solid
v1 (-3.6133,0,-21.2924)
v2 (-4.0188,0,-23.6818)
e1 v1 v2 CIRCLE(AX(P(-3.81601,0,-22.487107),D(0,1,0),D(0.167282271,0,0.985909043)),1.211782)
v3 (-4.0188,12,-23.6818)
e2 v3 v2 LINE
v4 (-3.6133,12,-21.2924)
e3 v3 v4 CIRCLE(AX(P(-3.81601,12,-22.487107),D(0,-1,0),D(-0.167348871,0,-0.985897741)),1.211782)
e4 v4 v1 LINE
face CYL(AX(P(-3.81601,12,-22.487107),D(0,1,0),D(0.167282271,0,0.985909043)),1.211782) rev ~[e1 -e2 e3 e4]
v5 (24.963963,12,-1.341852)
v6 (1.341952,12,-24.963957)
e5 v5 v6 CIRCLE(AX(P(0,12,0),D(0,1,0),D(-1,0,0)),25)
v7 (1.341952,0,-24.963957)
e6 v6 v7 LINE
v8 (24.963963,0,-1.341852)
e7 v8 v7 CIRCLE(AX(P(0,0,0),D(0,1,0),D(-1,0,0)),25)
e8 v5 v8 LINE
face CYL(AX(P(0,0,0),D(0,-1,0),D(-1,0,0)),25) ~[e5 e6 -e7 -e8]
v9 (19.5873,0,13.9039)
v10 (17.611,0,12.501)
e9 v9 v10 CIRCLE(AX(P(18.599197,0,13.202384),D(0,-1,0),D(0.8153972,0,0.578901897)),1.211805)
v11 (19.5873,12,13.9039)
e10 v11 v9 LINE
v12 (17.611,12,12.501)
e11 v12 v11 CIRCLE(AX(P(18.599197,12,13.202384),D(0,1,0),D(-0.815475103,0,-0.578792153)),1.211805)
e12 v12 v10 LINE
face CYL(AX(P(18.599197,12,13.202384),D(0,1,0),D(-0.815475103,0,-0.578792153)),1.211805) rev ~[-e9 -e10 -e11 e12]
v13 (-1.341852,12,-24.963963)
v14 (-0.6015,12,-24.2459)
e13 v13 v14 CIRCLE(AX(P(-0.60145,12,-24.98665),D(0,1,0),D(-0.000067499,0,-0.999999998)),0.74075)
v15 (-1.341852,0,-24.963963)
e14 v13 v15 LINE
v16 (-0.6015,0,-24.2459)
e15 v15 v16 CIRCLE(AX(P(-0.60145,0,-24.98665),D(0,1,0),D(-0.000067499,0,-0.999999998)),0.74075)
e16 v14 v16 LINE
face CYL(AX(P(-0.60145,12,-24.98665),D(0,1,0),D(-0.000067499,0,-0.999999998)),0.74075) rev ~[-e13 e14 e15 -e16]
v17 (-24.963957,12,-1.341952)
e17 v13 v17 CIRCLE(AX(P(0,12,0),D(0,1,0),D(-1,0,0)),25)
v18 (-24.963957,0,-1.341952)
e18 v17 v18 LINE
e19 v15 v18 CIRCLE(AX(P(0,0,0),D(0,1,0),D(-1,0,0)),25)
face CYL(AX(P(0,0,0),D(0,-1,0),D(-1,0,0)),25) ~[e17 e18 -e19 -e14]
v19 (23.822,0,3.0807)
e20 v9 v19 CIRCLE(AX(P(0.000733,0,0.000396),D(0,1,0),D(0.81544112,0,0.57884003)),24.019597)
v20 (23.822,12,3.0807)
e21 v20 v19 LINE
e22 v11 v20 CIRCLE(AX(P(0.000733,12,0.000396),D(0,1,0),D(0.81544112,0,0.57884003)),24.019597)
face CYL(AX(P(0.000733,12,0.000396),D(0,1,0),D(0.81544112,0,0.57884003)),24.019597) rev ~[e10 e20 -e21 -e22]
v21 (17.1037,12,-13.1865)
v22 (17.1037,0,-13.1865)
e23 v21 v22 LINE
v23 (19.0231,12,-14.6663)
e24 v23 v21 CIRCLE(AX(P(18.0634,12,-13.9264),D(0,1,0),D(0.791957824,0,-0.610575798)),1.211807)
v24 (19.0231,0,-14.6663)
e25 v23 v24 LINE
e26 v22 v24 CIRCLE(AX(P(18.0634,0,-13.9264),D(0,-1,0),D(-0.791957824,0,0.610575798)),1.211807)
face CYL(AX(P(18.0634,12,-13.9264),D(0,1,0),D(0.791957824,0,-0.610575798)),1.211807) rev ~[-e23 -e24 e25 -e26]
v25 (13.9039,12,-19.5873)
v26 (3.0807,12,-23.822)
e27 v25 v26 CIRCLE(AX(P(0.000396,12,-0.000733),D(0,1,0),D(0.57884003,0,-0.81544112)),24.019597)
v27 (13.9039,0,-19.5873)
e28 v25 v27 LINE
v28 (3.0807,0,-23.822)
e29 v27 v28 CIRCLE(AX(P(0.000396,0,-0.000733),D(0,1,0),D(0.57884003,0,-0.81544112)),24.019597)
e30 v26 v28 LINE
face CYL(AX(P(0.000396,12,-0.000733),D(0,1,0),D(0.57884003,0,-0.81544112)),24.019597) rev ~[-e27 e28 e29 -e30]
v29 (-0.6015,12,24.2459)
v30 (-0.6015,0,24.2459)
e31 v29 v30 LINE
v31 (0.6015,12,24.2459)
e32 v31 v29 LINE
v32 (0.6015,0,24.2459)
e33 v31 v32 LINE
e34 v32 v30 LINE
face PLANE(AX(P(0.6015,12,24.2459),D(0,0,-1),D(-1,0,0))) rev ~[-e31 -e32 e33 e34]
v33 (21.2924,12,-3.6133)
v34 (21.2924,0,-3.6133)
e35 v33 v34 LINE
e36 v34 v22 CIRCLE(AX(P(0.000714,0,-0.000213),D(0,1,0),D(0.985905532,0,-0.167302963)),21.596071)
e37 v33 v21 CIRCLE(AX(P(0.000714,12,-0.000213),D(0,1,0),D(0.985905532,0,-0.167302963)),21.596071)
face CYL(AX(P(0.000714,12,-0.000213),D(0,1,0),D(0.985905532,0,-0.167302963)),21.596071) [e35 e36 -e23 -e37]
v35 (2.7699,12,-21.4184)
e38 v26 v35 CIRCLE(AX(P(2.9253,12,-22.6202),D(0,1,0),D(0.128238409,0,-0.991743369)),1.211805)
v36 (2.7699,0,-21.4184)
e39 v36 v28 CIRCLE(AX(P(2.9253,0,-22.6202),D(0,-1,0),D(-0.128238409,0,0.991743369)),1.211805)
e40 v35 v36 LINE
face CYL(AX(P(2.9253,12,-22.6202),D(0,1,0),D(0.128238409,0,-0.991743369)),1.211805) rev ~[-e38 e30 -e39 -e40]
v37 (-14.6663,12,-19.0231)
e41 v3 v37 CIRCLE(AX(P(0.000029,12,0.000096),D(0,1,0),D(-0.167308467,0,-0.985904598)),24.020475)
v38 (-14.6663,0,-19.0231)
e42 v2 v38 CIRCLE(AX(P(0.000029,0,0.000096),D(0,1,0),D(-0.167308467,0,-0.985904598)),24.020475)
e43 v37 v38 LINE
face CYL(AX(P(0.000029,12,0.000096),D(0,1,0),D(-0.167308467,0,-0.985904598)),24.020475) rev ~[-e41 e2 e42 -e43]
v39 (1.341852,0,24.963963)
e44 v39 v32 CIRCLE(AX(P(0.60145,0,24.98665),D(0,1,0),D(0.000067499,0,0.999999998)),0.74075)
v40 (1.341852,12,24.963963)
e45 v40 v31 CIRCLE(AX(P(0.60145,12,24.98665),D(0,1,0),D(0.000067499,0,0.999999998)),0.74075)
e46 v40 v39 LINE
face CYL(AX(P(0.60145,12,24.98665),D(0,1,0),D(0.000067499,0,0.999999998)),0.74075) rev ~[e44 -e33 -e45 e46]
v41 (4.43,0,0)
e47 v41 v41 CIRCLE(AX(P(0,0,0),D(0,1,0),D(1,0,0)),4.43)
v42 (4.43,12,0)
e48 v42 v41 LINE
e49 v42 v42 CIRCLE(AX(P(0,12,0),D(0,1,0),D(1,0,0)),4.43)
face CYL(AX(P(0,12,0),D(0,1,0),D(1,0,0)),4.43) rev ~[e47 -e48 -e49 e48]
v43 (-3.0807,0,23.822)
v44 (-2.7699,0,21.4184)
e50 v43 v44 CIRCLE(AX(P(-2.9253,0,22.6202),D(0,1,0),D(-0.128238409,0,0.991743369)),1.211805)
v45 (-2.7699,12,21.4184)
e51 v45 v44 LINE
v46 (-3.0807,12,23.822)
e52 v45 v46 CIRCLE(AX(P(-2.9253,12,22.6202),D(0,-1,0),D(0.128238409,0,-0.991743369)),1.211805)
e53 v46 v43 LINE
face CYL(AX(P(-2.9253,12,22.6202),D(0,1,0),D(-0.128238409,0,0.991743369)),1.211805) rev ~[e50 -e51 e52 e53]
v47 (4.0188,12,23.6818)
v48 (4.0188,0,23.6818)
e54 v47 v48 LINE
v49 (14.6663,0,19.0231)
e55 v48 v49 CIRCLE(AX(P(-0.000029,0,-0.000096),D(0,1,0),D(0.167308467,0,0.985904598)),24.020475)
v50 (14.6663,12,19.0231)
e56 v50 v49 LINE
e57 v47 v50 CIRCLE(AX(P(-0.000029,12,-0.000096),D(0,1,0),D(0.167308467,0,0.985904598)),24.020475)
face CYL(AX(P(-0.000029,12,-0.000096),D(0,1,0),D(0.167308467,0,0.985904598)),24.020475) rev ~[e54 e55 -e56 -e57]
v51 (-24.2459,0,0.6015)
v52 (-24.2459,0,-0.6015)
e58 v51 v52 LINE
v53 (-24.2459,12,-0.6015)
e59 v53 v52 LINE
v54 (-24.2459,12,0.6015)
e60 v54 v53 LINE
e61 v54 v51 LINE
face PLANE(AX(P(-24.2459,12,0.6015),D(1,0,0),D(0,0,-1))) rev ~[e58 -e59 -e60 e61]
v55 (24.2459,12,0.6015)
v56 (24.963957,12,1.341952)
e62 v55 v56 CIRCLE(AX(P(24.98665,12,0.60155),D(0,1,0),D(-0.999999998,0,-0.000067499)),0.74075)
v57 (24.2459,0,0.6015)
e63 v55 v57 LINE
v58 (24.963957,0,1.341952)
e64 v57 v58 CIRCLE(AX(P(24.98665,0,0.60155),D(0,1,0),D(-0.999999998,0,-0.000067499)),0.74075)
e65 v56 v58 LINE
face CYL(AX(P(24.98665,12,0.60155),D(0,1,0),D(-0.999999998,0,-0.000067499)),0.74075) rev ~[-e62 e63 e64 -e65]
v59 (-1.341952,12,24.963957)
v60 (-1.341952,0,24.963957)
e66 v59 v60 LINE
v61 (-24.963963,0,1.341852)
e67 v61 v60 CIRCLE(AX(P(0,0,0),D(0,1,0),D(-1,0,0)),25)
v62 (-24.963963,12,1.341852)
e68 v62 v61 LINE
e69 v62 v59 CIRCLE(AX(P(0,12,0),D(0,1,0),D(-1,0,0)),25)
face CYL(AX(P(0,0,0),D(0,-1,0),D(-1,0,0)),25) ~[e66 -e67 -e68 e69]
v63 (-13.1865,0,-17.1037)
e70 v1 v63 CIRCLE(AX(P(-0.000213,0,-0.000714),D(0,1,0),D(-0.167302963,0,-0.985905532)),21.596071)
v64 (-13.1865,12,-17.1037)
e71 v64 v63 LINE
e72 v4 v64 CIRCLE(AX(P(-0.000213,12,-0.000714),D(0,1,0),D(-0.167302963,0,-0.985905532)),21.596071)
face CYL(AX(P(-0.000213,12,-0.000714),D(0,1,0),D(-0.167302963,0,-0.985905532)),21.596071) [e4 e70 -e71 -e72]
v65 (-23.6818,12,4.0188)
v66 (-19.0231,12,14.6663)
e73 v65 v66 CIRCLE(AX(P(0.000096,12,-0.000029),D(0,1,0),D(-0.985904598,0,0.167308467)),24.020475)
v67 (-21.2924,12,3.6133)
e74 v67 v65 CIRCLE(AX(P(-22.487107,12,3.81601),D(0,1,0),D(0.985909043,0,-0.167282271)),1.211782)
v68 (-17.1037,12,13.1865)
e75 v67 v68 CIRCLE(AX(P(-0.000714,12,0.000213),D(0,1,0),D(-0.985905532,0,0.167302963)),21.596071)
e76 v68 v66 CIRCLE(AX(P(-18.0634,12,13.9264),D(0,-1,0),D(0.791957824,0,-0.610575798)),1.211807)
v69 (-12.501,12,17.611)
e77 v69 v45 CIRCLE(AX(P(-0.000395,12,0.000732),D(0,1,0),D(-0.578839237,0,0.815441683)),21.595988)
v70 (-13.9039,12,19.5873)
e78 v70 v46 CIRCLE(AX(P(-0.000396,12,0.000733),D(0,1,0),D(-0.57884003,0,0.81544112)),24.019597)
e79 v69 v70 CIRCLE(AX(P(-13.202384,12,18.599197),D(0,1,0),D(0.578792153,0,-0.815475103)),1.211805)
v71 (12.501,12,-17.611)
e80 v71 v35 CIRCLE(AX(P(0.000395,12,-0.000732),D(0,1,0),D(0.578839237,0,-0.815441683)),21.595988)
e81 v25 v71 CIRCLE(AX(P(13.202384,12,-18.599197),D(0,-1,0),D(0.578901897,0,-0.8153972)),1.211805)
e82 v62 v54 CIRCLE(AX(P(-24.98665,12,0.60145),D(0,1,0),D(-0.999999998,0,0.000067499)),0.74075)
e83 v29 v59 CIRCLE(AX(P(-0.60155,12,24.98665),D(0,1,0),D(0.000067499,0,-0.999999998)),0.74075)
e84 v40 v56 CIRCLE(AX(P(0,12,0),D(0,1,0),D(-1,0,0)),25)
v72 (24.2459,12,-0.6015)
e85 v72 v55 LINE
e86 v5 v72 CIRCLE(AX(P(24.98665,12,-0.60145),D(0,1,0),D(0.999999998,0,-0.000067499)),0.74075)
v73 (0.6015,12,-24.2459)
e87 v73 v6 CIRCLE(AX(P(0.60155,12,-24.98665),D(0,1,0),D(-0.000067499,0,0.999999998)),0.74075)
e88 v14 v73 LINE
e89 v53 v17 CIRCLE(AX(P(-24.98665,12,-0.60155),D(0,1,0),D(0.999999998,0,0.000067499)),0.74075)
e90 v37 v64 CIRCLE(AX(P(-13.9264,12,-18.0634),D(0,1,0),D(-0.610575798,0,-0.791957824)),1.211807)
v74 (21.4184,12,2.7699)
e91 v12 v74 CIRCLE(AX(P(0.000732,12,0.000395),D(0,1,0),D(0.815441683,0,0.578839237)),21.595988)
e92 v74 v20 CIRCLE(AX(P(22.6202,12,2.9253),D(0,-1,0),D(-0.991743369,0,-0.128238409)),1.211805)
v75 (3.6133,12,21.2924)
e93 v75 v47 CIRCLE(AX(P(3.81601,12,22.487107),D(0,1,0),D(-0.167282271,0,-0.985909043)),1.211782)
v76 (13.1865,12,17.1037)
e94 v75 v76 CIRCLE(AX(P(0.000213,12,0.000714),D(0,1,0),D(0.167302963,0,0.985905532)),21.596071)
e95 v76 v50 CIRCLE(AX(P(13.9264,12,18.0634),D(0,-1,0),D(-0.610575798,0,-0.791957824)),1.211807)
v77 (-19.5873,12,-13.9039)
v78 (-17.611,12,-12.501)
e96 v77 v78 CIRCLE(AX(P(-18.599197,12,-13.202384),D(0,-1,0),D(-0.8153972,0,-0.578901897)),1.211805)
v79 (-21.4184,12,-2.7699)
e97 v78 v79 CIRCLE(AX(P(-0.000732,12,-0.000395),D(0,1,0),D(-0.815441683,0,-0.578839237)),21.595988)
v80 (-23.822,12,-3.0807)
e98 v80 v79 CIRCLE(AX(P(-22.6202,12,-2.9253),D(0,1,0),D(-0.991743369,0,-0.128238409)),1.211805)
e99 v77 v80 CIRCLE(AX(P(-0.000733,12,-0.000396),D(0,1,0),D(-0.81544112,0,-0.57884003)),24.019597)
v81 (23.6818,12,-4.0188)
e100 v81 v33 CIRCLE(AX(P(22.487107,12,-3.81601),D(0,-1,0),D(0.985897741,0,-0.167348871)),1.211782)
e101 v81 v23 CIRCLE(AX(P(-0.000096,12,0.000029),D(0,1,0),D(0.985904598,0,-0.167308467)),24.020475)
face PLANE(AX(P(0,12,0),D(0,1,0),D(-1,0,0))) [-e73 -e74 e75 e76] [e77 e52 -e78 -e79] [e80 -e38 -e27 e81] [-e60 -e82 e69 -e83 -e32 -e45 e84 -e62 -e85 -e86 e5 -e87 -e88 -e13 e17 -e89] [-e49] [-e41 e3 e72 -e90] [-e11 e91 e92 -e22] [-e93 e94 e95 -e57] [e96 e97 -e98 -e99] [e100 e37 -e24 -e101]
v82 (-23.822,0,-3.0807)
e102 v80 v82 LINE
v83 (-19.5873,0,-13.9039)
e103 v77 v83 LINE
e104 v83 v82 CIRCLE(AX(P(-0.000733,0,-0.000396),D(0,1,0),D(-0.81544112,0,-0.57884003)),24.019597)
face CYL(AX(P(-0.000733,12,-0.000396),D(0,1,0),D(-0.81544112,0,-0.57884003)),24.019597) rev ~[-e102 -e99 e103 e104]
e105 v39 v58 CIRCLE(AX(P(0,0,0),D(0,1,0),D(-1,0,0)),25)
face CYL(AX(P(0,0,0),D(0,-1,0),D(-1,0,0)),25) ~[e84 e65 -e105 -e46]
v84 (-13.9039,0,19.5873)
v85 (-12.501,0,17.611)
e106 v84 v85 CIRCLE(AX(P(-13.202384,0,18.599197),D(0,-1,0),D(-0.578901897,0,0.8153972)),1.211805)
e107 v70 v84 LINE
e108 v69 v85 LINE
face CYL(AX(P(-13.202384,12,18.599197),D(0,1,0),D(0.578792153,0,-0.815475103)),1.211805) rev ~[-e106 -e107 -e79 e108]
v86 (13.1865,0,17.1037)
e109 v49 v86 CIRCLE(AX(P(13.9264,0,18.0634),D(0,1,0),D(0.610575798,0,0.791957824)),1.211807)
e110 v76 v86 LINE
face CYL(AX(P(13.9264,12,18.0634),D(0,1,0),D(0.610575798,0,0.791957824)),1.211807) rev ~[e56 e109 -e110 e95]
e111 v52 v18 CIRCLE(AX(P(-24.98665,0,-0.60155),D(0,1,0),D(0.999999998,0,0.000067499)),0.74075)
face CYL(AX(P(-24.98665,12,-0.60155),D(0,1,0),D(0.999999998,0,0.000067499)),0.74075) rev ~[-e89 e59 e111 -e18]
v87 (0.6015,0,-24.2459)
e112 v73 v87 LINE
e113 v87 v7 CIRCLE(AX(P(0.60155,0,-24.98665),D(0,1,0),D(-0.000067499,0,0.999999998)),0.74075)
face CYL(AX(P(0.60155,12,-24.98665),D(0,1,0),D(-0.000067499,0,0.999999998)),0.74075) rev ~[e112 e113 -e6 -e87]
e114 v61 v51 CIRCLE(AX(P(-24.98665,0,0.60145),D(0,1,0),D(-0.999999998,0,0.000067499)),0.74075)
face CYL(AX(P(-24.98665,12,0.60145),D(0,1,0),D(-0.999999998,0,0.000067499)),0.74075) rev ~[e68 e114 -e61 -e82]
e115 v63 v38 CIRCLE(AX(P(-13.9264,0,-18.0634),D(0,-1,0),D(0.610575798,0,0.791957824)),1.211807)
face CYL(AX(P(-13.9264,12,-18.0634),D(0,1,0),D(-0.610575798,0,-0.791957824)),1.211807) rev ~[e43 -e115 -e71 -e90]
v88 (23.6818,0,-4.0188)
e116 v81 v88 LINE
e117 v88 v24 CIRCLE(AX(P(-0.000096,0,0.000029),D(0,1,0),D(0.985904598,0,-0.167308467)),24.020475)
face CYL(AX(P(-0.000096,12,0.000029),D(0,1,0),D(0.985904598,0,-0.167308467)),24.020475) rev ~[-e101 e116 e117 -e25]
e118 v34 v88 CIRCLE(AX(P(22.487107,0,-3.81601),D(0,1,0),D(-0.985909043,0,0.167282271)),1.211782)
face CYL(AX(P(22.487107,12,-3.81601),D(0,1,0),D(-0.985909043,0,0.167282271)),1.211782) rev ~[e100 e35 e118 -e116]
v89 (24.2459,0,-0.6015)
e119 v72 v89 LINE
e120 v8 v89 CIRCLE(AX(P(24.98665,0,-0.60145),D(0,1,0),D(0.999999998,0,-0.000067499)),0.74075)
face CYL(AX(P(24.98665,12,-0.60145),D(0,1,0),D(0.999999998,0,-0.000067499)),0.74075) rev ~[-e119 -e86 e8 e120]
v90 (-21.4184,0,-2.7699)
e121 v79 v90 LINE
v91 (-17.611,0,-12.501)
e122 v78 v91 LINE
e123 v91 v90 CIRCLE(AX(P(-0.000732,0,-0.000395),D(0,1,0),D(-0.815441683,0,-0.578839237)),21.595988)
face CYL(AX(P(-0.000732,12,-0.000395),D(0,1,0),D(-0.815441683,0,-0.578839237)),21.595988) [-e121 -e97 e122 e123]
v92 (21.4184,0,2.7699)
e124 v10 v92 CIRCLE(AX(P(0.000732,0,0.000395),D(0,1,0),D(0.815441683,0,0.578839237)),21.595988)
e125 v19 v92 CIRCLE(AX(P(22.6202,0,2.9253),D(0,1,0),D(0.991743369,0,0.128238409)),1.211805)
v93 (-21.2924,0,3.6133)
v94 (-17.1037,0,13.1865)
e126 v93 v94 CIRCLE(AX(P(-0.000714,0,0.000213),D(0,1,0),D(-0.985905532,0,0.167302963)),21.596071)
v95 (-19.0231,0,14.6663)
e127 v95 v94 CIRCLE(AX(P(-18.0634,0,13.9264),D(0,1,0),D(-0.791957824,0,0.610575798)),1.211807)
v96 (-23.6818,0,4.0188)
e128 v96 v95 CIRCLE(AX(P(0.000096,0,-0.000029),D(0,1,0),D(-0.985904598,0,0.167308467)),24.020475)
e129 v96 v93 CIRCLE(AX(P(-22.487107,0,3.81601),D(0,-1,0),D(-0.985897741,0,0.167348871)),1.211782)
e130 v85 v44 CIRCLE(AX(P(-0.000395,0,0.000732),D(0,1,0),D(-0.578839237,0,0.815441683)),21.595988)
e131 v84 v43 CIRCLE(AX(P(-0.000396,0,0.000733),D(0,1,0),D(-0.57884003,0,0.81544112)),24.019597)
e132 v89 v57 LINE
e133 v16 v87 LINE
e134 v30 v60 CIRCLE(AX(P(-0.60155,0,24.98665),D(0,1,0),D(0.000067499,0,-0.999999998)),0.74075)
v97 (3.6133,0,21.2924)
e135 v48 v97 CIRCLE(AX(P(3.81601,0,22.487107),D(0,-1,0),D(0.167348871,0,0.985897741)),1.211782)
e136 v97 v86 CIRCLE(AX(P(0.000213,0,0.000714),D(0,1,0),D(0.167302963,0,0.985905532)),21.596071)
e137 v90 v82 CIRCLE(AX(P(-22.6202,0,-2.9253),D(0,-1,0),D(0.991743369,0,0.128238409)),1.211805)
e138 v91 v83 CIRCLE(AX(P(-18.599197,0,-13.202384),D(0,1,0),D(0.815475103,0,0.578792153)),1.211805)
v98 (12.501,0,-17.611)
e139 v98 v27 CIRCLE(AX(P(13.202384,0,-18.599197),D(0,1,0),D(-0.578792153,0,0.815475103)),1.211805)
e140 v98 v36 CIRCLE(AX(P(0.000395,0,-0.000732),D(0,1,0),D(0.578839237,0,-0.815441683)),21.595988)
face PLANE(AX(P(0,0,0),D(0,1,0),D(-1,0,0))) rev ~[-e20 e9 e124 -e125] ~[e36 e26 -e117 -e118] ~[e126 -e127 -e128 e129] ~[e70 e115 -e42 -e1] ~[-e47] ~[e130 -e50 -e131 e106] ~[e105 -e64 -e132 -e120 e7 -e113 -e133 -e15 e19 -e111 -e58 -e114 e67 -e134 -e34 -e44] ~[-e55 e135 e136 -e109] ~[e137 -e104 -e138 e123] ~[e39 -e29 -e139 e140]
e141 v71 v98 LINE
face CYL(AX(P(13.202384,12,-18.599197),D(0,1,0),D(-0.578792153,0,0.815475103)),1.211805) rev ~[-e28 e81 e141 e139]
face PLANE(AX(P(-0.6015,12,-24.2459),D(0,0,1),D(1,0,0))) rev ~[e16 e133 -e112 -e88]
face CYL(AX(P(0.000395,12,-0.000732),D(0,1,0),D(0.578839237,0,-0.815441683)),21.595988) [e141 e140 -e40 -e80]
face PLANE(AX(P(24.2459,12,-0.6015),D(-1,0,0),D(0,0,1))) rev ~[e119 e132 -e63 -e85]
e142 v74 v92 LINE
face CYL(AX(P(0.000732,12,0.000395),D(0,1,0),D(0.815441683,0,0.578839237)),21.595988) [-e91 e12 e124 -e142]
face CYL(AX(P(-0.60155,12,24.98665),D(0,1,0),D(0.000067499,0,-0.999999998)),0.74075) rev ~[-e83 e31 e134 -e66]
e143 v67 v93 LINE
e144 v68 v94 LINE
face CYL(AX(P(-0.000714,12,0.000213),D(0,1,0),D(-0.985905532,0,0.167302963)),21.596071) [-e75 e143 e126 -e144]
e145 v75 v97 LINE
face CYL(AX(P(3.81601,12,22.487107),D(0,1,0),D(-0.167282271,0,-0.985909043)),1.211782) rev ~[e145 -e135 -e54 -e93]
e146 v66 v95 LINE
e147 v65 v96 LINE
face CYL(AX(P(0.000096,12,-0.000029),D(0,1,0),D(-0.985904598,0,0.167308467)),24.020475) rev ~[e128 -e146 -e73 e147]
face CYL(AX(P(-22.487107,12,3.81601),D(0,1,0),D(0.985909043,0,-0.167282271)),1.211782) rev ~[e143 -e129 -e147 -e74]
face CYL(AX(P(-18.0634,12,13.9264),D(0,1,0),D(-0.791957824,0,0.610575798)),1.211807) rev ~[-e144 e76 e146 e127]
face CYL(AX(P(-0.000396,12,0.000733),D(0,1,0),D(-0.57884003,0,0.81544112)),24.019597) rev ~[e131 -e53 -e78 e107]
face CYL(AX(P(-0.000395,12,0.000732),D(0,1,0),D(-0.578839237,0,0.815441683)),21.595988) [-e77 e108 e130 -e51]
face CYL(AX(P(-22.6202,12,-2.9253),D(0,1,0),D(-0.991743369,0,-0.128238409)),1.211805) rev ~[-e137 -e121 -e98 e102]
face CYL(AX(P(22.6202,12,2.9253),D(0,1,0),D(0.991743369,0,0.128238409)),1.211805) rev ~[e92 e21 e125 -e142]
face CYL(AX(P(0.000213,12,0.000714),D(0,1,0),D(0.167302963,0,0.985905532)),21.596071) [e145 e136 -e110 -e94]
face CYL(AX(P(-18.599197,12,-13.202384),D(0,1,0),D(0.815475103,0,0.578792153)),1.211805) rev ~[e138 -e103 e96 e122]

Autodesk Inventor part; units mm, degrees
ref_plane "YZ Plane" through (0, 0, 0) normal (1, 0, 0) x (0, 1, 0)
ref_plane "XZ Plane" through (0, 0, 0) normal (0, 1, 0) x (-1, 0, 0)
ref_plane "XY Plane" through (0, 0, 0) normal (0, 0, 1) x (1, 0, 0)
sketch "Sketch1" plane through (0, 0, 0) normal (0, 1, 0) x (-1, 0, 0)
  circle A0 centre (0, 0) radius 25
  dimension "d1" = 50
extrude "Extrusion1" add sketch "Sketch1" along normal blind 12
sketch "Sketch2" plane through (0, 12, 0) normal (0, 1, 0) x (1, 0, 0)
  circle A0 centre (0, 0) radius 1.3723
  line L0 (-24.9867, -1.3423) -> (-24.9867, 1.3423) construction
  line L1 (-24.2459, -0.6015) -> (-24.2459, 0.6015)
  line L2 (-25.7274, 0.6015) -> (-25.7274, -0.6015)
  arc A1 (-25.7274, -0.6015) -> (-24.2459, -0.6015) centre (-24.9867, -0.6015) ccw
  arc A2 (-24.2459, 0.6015) -> (-25.7274, 0.6015) centre (-24.9867, 0.6015) ccw
  line L3 (1.3423, -24.9867) -> (-1.3423, -24.9867) construction
  line L4 (0.6015, -24.2459) -> (-0.6015, -24.2459)
  line L5 (-0.6015, -25.7274) -> (0.6015, -25.7274)
  arc A3 (0.6015, -25.7274) -> (0.6015, -24.2459) centre (0.6015, -24.9867) ccw
  arc A4 (-0.6015, -24.2459) -> (-0.6015, -25.7274) centre (-0.6015, -24.9867) ccw
  line L6 (24.9867, 1.3423) -> (24.9867, -1.3423) construction
  line L7 (24.2459, 0.6015) -> (24.2459, -0.6015)
  line L8 (25.7274, -0.6015) -> (25.7274, 0.6015)
  arc A5 (25.7274, 0.6015) -> (24.2459, 0.6015) centre (24.9867, 0.6015) ccw
  arc A6 (24.2459, -0.6015) -> (25.7274, -0.6015) centre (24.9867, -0.6015) ccw
  line L9 (-1.3423, 24.9867) -> (1.3423, 24.9867) construction
  line L10 (-0.6015, 24.2459) -> (0.6015, 24.2459)
  line L11 (0.6015, 25.7274) -> (-0.6015, 25.7274)
  arc A7 (-0.6015, 25.7274) -> (-0.6015, 24.2459) centre (-0.6015, 24.9867) ccw
  arc A8 (0.6015, 24.2459) -> (0.6015, 25.7274) centre (0.6015, 24.9867) ccw
  point P0 (-24.9867, 0)
  point P1 (0, -24.9867)
  point P2 (24.9867, 0)
  point P3 (0, 24.9867)
  dimension "d11" = 360
extrude "Extrusion2" cut sketch "Sketch2" against normal blind 12 contours A1 L2 A2 L1 | A3 L5 A4 L4 | A5 L8 A6 L7 | A7 L11 A8 L10
sketch "Sketch3" plane through (0, 12, 0) normal (0, 1, 0) x (1, 0, 0)
  circle A0 centre (0, 0) radius 22.8086
  arc A1 (13.2024, 18.5991) -> (2.9253, 22.6202) centre (0, 0) ccw construction
  arc A2 (13.9039, 19.5873) -> (3.0807, 23.822) centre (0, 0) ccw
  arc A3 (12.501, 17.611) -> (2.7699, 21.4184) centre (0, 0) ccw
  arc A4 (12.501, 17.611) -> (13.9039, 19.5873) centre (13.2024, 18.5991) ccw
  arc A5 (3.0807, 23.822) -> (2.7699, 21.4184) centre (2.9253, 22.6202) ccw
  line L0 (0, 0) -> (13.2024, 18.5991) construction
  line L1 (0, 0) -> (2.9253, 22.6202) construction
  arc A6 (-4.0188, 23.6818) -> (-14.6663, 19.0231) centre (0, 0) ccw
  arc A7 (-14.6663, 19.0231) -> (-13.1865, 17.1037) centre (-13.9264, 18.0634) ccw
  arc A8 (-3.6133, 21.2924) -> (-13.1865, 17.1037) centre (0, 0) ccw
  arc A9 (-3.6133, 21.2924) -> (-4.0188, 23.6818) centre (-3.816, 22.4871) ccw
  arc A10 (-19.5873, 13.9039) -> (-23.822, 3.0807) centre (0, 0) ccw
  arc A11 (-23.822, 3.0807) -> (-21.4184, 2.7699) centre (-22.6202, 2.9253) ccw
  arc A12 (-17.611, 12.501) -> (-21.4184, 2.7699) centre (0, 0) ccw
  arc A13 (-17.611, 12.501) -> (-19.5873, 13.9039) centre (-18.5991, 13.2024) ccw
  arc A14 (-23.6818, -4.0188) -> (-19.0231, -14.6663) centre (0, 0) ccw
  arc A15 (-19.0231, -14.6663) -> (-17.1037, -13.1865) centre (-18.0634, -13.9264) ccw
  arc A16 (-21.2924, -3.6133) -> (-17.1037, -13.1865) centre (0, 0) ccw
  arc A17 (-21.2924, -3.6133) -> (-23.6818, -4.0188) centre (-22.4871, -3.816) ccw
  arc A18 (-13.9039, -19.5873) -> (-3.0807, -23.822) centre (0, 0) ccw
  arc A19 (-3.0807, -23.822) -> (-2.7699, -21.4184) centre (-2.9253, -22.6202) ccw
  arc A20 (-12.501, -17.611) -> (-2.7699, -21.4184) centre (0, 0) ccw
  arc A21 (-12.501, -17.611) -> (-13.9039, -19.5873) centre (-13.2024, -18.5991) ccw
  arc A22 (4.0188, -23.6818) -> (14.6663, -19.0231) centre (0, 0) ccw
  arc A23 (14.6663, -19.0231) -> (13.1865, -17.1037) centre (13.9264, -18.0634) ccw
  arc A24 (3.6133, -21.2924) -> (13.1865, -17.1037) centre (0, 0) ccw
  arc A25 (3.6133, -21.2924) -> (4.0188, -23.6818) centre (3.816, -22.4871) ccw
  arc A26 (19.5873, -13.9039) -> (23.822, -3.0807) centre (0, 0) ccw
  arc A27 (23.822, -3.0807) -> (21.4184, -2.7699) centre (22.6202, -2.9253) ccw
  arc A28 (17.611, -12.501) -> (21.4184, -2.7699) centre (0, 0) ccw
  arc A29 (17.611, -12.501) -> (19.5873, -13.9039) centre (18.5991, -13.2024) ccw
  arc A30 (23.6818, 4.0188) -> (19.0231, 14.6663) centre (0, 0) ccw
  arc A31 (19.0231, 14.6663) -> (17.1037, 13.1865) centre (18.0634, 13.9264) ccw
  arc A32 (21.2924, 3.6133) -> (17.1037, 13.1865) centre (0, 0) ccw
  arc A33 (21.2924, 3.6133) -> (23.6818, 4.0188) centre (22.4871, 3.816) ccw
  dimension "d15" = 28
  dimension "d18" = 360
extrude "Extrusion3" cut sketch "Sketch3" against normal blind 12 contours A33 A32 A31 A0 | A0 A31 A30 A33 | A27 A26 A29 A0 | A0 A29 A28 A27 | A4 A3 A5 A0 | A0 A5 A2 A4 | A23 A22 A25 A0 | A0 A25 A24 A23 | A9 A8 A7 A0 | A0 A7 A6 A9 | A19 A18 A21 A0 | A0 A21 A20 A19 | A13 A12 A11 A0 | A0 A11 A10 A13 | A15 A14 A17 A0 | A0 A17 A16 A15
sketch "Sketch4" plane through (0, 12, 0) normal (0, 1, 0) x (1, 0, 0)
  circle A0 centre (0, 0) radius 4.43
  dimension "d22" = 8.86
extrude "Extrusion4" cut sketch "Sketch4" against normal blind 12
thread "Thread1" size "M10x1.25" class "6H" standard "ISO Metric profile" full length
sketch "Sketch5" plane through (0, 12, 0) normal (0, 1, 0) x (1, 0, 0)
  circle A0 centre (0, 0) radius 4.43
extrude "Extrusion5" [suppressed]
thread "Thread3" size "M10x1" class "6g" standard "ANSI Metric M Profile" full length
thread "Thread4" size "M10x1" class "6g" standard "ANSI Metric M Profile" full length
properties part number "ICRC wrist model"
